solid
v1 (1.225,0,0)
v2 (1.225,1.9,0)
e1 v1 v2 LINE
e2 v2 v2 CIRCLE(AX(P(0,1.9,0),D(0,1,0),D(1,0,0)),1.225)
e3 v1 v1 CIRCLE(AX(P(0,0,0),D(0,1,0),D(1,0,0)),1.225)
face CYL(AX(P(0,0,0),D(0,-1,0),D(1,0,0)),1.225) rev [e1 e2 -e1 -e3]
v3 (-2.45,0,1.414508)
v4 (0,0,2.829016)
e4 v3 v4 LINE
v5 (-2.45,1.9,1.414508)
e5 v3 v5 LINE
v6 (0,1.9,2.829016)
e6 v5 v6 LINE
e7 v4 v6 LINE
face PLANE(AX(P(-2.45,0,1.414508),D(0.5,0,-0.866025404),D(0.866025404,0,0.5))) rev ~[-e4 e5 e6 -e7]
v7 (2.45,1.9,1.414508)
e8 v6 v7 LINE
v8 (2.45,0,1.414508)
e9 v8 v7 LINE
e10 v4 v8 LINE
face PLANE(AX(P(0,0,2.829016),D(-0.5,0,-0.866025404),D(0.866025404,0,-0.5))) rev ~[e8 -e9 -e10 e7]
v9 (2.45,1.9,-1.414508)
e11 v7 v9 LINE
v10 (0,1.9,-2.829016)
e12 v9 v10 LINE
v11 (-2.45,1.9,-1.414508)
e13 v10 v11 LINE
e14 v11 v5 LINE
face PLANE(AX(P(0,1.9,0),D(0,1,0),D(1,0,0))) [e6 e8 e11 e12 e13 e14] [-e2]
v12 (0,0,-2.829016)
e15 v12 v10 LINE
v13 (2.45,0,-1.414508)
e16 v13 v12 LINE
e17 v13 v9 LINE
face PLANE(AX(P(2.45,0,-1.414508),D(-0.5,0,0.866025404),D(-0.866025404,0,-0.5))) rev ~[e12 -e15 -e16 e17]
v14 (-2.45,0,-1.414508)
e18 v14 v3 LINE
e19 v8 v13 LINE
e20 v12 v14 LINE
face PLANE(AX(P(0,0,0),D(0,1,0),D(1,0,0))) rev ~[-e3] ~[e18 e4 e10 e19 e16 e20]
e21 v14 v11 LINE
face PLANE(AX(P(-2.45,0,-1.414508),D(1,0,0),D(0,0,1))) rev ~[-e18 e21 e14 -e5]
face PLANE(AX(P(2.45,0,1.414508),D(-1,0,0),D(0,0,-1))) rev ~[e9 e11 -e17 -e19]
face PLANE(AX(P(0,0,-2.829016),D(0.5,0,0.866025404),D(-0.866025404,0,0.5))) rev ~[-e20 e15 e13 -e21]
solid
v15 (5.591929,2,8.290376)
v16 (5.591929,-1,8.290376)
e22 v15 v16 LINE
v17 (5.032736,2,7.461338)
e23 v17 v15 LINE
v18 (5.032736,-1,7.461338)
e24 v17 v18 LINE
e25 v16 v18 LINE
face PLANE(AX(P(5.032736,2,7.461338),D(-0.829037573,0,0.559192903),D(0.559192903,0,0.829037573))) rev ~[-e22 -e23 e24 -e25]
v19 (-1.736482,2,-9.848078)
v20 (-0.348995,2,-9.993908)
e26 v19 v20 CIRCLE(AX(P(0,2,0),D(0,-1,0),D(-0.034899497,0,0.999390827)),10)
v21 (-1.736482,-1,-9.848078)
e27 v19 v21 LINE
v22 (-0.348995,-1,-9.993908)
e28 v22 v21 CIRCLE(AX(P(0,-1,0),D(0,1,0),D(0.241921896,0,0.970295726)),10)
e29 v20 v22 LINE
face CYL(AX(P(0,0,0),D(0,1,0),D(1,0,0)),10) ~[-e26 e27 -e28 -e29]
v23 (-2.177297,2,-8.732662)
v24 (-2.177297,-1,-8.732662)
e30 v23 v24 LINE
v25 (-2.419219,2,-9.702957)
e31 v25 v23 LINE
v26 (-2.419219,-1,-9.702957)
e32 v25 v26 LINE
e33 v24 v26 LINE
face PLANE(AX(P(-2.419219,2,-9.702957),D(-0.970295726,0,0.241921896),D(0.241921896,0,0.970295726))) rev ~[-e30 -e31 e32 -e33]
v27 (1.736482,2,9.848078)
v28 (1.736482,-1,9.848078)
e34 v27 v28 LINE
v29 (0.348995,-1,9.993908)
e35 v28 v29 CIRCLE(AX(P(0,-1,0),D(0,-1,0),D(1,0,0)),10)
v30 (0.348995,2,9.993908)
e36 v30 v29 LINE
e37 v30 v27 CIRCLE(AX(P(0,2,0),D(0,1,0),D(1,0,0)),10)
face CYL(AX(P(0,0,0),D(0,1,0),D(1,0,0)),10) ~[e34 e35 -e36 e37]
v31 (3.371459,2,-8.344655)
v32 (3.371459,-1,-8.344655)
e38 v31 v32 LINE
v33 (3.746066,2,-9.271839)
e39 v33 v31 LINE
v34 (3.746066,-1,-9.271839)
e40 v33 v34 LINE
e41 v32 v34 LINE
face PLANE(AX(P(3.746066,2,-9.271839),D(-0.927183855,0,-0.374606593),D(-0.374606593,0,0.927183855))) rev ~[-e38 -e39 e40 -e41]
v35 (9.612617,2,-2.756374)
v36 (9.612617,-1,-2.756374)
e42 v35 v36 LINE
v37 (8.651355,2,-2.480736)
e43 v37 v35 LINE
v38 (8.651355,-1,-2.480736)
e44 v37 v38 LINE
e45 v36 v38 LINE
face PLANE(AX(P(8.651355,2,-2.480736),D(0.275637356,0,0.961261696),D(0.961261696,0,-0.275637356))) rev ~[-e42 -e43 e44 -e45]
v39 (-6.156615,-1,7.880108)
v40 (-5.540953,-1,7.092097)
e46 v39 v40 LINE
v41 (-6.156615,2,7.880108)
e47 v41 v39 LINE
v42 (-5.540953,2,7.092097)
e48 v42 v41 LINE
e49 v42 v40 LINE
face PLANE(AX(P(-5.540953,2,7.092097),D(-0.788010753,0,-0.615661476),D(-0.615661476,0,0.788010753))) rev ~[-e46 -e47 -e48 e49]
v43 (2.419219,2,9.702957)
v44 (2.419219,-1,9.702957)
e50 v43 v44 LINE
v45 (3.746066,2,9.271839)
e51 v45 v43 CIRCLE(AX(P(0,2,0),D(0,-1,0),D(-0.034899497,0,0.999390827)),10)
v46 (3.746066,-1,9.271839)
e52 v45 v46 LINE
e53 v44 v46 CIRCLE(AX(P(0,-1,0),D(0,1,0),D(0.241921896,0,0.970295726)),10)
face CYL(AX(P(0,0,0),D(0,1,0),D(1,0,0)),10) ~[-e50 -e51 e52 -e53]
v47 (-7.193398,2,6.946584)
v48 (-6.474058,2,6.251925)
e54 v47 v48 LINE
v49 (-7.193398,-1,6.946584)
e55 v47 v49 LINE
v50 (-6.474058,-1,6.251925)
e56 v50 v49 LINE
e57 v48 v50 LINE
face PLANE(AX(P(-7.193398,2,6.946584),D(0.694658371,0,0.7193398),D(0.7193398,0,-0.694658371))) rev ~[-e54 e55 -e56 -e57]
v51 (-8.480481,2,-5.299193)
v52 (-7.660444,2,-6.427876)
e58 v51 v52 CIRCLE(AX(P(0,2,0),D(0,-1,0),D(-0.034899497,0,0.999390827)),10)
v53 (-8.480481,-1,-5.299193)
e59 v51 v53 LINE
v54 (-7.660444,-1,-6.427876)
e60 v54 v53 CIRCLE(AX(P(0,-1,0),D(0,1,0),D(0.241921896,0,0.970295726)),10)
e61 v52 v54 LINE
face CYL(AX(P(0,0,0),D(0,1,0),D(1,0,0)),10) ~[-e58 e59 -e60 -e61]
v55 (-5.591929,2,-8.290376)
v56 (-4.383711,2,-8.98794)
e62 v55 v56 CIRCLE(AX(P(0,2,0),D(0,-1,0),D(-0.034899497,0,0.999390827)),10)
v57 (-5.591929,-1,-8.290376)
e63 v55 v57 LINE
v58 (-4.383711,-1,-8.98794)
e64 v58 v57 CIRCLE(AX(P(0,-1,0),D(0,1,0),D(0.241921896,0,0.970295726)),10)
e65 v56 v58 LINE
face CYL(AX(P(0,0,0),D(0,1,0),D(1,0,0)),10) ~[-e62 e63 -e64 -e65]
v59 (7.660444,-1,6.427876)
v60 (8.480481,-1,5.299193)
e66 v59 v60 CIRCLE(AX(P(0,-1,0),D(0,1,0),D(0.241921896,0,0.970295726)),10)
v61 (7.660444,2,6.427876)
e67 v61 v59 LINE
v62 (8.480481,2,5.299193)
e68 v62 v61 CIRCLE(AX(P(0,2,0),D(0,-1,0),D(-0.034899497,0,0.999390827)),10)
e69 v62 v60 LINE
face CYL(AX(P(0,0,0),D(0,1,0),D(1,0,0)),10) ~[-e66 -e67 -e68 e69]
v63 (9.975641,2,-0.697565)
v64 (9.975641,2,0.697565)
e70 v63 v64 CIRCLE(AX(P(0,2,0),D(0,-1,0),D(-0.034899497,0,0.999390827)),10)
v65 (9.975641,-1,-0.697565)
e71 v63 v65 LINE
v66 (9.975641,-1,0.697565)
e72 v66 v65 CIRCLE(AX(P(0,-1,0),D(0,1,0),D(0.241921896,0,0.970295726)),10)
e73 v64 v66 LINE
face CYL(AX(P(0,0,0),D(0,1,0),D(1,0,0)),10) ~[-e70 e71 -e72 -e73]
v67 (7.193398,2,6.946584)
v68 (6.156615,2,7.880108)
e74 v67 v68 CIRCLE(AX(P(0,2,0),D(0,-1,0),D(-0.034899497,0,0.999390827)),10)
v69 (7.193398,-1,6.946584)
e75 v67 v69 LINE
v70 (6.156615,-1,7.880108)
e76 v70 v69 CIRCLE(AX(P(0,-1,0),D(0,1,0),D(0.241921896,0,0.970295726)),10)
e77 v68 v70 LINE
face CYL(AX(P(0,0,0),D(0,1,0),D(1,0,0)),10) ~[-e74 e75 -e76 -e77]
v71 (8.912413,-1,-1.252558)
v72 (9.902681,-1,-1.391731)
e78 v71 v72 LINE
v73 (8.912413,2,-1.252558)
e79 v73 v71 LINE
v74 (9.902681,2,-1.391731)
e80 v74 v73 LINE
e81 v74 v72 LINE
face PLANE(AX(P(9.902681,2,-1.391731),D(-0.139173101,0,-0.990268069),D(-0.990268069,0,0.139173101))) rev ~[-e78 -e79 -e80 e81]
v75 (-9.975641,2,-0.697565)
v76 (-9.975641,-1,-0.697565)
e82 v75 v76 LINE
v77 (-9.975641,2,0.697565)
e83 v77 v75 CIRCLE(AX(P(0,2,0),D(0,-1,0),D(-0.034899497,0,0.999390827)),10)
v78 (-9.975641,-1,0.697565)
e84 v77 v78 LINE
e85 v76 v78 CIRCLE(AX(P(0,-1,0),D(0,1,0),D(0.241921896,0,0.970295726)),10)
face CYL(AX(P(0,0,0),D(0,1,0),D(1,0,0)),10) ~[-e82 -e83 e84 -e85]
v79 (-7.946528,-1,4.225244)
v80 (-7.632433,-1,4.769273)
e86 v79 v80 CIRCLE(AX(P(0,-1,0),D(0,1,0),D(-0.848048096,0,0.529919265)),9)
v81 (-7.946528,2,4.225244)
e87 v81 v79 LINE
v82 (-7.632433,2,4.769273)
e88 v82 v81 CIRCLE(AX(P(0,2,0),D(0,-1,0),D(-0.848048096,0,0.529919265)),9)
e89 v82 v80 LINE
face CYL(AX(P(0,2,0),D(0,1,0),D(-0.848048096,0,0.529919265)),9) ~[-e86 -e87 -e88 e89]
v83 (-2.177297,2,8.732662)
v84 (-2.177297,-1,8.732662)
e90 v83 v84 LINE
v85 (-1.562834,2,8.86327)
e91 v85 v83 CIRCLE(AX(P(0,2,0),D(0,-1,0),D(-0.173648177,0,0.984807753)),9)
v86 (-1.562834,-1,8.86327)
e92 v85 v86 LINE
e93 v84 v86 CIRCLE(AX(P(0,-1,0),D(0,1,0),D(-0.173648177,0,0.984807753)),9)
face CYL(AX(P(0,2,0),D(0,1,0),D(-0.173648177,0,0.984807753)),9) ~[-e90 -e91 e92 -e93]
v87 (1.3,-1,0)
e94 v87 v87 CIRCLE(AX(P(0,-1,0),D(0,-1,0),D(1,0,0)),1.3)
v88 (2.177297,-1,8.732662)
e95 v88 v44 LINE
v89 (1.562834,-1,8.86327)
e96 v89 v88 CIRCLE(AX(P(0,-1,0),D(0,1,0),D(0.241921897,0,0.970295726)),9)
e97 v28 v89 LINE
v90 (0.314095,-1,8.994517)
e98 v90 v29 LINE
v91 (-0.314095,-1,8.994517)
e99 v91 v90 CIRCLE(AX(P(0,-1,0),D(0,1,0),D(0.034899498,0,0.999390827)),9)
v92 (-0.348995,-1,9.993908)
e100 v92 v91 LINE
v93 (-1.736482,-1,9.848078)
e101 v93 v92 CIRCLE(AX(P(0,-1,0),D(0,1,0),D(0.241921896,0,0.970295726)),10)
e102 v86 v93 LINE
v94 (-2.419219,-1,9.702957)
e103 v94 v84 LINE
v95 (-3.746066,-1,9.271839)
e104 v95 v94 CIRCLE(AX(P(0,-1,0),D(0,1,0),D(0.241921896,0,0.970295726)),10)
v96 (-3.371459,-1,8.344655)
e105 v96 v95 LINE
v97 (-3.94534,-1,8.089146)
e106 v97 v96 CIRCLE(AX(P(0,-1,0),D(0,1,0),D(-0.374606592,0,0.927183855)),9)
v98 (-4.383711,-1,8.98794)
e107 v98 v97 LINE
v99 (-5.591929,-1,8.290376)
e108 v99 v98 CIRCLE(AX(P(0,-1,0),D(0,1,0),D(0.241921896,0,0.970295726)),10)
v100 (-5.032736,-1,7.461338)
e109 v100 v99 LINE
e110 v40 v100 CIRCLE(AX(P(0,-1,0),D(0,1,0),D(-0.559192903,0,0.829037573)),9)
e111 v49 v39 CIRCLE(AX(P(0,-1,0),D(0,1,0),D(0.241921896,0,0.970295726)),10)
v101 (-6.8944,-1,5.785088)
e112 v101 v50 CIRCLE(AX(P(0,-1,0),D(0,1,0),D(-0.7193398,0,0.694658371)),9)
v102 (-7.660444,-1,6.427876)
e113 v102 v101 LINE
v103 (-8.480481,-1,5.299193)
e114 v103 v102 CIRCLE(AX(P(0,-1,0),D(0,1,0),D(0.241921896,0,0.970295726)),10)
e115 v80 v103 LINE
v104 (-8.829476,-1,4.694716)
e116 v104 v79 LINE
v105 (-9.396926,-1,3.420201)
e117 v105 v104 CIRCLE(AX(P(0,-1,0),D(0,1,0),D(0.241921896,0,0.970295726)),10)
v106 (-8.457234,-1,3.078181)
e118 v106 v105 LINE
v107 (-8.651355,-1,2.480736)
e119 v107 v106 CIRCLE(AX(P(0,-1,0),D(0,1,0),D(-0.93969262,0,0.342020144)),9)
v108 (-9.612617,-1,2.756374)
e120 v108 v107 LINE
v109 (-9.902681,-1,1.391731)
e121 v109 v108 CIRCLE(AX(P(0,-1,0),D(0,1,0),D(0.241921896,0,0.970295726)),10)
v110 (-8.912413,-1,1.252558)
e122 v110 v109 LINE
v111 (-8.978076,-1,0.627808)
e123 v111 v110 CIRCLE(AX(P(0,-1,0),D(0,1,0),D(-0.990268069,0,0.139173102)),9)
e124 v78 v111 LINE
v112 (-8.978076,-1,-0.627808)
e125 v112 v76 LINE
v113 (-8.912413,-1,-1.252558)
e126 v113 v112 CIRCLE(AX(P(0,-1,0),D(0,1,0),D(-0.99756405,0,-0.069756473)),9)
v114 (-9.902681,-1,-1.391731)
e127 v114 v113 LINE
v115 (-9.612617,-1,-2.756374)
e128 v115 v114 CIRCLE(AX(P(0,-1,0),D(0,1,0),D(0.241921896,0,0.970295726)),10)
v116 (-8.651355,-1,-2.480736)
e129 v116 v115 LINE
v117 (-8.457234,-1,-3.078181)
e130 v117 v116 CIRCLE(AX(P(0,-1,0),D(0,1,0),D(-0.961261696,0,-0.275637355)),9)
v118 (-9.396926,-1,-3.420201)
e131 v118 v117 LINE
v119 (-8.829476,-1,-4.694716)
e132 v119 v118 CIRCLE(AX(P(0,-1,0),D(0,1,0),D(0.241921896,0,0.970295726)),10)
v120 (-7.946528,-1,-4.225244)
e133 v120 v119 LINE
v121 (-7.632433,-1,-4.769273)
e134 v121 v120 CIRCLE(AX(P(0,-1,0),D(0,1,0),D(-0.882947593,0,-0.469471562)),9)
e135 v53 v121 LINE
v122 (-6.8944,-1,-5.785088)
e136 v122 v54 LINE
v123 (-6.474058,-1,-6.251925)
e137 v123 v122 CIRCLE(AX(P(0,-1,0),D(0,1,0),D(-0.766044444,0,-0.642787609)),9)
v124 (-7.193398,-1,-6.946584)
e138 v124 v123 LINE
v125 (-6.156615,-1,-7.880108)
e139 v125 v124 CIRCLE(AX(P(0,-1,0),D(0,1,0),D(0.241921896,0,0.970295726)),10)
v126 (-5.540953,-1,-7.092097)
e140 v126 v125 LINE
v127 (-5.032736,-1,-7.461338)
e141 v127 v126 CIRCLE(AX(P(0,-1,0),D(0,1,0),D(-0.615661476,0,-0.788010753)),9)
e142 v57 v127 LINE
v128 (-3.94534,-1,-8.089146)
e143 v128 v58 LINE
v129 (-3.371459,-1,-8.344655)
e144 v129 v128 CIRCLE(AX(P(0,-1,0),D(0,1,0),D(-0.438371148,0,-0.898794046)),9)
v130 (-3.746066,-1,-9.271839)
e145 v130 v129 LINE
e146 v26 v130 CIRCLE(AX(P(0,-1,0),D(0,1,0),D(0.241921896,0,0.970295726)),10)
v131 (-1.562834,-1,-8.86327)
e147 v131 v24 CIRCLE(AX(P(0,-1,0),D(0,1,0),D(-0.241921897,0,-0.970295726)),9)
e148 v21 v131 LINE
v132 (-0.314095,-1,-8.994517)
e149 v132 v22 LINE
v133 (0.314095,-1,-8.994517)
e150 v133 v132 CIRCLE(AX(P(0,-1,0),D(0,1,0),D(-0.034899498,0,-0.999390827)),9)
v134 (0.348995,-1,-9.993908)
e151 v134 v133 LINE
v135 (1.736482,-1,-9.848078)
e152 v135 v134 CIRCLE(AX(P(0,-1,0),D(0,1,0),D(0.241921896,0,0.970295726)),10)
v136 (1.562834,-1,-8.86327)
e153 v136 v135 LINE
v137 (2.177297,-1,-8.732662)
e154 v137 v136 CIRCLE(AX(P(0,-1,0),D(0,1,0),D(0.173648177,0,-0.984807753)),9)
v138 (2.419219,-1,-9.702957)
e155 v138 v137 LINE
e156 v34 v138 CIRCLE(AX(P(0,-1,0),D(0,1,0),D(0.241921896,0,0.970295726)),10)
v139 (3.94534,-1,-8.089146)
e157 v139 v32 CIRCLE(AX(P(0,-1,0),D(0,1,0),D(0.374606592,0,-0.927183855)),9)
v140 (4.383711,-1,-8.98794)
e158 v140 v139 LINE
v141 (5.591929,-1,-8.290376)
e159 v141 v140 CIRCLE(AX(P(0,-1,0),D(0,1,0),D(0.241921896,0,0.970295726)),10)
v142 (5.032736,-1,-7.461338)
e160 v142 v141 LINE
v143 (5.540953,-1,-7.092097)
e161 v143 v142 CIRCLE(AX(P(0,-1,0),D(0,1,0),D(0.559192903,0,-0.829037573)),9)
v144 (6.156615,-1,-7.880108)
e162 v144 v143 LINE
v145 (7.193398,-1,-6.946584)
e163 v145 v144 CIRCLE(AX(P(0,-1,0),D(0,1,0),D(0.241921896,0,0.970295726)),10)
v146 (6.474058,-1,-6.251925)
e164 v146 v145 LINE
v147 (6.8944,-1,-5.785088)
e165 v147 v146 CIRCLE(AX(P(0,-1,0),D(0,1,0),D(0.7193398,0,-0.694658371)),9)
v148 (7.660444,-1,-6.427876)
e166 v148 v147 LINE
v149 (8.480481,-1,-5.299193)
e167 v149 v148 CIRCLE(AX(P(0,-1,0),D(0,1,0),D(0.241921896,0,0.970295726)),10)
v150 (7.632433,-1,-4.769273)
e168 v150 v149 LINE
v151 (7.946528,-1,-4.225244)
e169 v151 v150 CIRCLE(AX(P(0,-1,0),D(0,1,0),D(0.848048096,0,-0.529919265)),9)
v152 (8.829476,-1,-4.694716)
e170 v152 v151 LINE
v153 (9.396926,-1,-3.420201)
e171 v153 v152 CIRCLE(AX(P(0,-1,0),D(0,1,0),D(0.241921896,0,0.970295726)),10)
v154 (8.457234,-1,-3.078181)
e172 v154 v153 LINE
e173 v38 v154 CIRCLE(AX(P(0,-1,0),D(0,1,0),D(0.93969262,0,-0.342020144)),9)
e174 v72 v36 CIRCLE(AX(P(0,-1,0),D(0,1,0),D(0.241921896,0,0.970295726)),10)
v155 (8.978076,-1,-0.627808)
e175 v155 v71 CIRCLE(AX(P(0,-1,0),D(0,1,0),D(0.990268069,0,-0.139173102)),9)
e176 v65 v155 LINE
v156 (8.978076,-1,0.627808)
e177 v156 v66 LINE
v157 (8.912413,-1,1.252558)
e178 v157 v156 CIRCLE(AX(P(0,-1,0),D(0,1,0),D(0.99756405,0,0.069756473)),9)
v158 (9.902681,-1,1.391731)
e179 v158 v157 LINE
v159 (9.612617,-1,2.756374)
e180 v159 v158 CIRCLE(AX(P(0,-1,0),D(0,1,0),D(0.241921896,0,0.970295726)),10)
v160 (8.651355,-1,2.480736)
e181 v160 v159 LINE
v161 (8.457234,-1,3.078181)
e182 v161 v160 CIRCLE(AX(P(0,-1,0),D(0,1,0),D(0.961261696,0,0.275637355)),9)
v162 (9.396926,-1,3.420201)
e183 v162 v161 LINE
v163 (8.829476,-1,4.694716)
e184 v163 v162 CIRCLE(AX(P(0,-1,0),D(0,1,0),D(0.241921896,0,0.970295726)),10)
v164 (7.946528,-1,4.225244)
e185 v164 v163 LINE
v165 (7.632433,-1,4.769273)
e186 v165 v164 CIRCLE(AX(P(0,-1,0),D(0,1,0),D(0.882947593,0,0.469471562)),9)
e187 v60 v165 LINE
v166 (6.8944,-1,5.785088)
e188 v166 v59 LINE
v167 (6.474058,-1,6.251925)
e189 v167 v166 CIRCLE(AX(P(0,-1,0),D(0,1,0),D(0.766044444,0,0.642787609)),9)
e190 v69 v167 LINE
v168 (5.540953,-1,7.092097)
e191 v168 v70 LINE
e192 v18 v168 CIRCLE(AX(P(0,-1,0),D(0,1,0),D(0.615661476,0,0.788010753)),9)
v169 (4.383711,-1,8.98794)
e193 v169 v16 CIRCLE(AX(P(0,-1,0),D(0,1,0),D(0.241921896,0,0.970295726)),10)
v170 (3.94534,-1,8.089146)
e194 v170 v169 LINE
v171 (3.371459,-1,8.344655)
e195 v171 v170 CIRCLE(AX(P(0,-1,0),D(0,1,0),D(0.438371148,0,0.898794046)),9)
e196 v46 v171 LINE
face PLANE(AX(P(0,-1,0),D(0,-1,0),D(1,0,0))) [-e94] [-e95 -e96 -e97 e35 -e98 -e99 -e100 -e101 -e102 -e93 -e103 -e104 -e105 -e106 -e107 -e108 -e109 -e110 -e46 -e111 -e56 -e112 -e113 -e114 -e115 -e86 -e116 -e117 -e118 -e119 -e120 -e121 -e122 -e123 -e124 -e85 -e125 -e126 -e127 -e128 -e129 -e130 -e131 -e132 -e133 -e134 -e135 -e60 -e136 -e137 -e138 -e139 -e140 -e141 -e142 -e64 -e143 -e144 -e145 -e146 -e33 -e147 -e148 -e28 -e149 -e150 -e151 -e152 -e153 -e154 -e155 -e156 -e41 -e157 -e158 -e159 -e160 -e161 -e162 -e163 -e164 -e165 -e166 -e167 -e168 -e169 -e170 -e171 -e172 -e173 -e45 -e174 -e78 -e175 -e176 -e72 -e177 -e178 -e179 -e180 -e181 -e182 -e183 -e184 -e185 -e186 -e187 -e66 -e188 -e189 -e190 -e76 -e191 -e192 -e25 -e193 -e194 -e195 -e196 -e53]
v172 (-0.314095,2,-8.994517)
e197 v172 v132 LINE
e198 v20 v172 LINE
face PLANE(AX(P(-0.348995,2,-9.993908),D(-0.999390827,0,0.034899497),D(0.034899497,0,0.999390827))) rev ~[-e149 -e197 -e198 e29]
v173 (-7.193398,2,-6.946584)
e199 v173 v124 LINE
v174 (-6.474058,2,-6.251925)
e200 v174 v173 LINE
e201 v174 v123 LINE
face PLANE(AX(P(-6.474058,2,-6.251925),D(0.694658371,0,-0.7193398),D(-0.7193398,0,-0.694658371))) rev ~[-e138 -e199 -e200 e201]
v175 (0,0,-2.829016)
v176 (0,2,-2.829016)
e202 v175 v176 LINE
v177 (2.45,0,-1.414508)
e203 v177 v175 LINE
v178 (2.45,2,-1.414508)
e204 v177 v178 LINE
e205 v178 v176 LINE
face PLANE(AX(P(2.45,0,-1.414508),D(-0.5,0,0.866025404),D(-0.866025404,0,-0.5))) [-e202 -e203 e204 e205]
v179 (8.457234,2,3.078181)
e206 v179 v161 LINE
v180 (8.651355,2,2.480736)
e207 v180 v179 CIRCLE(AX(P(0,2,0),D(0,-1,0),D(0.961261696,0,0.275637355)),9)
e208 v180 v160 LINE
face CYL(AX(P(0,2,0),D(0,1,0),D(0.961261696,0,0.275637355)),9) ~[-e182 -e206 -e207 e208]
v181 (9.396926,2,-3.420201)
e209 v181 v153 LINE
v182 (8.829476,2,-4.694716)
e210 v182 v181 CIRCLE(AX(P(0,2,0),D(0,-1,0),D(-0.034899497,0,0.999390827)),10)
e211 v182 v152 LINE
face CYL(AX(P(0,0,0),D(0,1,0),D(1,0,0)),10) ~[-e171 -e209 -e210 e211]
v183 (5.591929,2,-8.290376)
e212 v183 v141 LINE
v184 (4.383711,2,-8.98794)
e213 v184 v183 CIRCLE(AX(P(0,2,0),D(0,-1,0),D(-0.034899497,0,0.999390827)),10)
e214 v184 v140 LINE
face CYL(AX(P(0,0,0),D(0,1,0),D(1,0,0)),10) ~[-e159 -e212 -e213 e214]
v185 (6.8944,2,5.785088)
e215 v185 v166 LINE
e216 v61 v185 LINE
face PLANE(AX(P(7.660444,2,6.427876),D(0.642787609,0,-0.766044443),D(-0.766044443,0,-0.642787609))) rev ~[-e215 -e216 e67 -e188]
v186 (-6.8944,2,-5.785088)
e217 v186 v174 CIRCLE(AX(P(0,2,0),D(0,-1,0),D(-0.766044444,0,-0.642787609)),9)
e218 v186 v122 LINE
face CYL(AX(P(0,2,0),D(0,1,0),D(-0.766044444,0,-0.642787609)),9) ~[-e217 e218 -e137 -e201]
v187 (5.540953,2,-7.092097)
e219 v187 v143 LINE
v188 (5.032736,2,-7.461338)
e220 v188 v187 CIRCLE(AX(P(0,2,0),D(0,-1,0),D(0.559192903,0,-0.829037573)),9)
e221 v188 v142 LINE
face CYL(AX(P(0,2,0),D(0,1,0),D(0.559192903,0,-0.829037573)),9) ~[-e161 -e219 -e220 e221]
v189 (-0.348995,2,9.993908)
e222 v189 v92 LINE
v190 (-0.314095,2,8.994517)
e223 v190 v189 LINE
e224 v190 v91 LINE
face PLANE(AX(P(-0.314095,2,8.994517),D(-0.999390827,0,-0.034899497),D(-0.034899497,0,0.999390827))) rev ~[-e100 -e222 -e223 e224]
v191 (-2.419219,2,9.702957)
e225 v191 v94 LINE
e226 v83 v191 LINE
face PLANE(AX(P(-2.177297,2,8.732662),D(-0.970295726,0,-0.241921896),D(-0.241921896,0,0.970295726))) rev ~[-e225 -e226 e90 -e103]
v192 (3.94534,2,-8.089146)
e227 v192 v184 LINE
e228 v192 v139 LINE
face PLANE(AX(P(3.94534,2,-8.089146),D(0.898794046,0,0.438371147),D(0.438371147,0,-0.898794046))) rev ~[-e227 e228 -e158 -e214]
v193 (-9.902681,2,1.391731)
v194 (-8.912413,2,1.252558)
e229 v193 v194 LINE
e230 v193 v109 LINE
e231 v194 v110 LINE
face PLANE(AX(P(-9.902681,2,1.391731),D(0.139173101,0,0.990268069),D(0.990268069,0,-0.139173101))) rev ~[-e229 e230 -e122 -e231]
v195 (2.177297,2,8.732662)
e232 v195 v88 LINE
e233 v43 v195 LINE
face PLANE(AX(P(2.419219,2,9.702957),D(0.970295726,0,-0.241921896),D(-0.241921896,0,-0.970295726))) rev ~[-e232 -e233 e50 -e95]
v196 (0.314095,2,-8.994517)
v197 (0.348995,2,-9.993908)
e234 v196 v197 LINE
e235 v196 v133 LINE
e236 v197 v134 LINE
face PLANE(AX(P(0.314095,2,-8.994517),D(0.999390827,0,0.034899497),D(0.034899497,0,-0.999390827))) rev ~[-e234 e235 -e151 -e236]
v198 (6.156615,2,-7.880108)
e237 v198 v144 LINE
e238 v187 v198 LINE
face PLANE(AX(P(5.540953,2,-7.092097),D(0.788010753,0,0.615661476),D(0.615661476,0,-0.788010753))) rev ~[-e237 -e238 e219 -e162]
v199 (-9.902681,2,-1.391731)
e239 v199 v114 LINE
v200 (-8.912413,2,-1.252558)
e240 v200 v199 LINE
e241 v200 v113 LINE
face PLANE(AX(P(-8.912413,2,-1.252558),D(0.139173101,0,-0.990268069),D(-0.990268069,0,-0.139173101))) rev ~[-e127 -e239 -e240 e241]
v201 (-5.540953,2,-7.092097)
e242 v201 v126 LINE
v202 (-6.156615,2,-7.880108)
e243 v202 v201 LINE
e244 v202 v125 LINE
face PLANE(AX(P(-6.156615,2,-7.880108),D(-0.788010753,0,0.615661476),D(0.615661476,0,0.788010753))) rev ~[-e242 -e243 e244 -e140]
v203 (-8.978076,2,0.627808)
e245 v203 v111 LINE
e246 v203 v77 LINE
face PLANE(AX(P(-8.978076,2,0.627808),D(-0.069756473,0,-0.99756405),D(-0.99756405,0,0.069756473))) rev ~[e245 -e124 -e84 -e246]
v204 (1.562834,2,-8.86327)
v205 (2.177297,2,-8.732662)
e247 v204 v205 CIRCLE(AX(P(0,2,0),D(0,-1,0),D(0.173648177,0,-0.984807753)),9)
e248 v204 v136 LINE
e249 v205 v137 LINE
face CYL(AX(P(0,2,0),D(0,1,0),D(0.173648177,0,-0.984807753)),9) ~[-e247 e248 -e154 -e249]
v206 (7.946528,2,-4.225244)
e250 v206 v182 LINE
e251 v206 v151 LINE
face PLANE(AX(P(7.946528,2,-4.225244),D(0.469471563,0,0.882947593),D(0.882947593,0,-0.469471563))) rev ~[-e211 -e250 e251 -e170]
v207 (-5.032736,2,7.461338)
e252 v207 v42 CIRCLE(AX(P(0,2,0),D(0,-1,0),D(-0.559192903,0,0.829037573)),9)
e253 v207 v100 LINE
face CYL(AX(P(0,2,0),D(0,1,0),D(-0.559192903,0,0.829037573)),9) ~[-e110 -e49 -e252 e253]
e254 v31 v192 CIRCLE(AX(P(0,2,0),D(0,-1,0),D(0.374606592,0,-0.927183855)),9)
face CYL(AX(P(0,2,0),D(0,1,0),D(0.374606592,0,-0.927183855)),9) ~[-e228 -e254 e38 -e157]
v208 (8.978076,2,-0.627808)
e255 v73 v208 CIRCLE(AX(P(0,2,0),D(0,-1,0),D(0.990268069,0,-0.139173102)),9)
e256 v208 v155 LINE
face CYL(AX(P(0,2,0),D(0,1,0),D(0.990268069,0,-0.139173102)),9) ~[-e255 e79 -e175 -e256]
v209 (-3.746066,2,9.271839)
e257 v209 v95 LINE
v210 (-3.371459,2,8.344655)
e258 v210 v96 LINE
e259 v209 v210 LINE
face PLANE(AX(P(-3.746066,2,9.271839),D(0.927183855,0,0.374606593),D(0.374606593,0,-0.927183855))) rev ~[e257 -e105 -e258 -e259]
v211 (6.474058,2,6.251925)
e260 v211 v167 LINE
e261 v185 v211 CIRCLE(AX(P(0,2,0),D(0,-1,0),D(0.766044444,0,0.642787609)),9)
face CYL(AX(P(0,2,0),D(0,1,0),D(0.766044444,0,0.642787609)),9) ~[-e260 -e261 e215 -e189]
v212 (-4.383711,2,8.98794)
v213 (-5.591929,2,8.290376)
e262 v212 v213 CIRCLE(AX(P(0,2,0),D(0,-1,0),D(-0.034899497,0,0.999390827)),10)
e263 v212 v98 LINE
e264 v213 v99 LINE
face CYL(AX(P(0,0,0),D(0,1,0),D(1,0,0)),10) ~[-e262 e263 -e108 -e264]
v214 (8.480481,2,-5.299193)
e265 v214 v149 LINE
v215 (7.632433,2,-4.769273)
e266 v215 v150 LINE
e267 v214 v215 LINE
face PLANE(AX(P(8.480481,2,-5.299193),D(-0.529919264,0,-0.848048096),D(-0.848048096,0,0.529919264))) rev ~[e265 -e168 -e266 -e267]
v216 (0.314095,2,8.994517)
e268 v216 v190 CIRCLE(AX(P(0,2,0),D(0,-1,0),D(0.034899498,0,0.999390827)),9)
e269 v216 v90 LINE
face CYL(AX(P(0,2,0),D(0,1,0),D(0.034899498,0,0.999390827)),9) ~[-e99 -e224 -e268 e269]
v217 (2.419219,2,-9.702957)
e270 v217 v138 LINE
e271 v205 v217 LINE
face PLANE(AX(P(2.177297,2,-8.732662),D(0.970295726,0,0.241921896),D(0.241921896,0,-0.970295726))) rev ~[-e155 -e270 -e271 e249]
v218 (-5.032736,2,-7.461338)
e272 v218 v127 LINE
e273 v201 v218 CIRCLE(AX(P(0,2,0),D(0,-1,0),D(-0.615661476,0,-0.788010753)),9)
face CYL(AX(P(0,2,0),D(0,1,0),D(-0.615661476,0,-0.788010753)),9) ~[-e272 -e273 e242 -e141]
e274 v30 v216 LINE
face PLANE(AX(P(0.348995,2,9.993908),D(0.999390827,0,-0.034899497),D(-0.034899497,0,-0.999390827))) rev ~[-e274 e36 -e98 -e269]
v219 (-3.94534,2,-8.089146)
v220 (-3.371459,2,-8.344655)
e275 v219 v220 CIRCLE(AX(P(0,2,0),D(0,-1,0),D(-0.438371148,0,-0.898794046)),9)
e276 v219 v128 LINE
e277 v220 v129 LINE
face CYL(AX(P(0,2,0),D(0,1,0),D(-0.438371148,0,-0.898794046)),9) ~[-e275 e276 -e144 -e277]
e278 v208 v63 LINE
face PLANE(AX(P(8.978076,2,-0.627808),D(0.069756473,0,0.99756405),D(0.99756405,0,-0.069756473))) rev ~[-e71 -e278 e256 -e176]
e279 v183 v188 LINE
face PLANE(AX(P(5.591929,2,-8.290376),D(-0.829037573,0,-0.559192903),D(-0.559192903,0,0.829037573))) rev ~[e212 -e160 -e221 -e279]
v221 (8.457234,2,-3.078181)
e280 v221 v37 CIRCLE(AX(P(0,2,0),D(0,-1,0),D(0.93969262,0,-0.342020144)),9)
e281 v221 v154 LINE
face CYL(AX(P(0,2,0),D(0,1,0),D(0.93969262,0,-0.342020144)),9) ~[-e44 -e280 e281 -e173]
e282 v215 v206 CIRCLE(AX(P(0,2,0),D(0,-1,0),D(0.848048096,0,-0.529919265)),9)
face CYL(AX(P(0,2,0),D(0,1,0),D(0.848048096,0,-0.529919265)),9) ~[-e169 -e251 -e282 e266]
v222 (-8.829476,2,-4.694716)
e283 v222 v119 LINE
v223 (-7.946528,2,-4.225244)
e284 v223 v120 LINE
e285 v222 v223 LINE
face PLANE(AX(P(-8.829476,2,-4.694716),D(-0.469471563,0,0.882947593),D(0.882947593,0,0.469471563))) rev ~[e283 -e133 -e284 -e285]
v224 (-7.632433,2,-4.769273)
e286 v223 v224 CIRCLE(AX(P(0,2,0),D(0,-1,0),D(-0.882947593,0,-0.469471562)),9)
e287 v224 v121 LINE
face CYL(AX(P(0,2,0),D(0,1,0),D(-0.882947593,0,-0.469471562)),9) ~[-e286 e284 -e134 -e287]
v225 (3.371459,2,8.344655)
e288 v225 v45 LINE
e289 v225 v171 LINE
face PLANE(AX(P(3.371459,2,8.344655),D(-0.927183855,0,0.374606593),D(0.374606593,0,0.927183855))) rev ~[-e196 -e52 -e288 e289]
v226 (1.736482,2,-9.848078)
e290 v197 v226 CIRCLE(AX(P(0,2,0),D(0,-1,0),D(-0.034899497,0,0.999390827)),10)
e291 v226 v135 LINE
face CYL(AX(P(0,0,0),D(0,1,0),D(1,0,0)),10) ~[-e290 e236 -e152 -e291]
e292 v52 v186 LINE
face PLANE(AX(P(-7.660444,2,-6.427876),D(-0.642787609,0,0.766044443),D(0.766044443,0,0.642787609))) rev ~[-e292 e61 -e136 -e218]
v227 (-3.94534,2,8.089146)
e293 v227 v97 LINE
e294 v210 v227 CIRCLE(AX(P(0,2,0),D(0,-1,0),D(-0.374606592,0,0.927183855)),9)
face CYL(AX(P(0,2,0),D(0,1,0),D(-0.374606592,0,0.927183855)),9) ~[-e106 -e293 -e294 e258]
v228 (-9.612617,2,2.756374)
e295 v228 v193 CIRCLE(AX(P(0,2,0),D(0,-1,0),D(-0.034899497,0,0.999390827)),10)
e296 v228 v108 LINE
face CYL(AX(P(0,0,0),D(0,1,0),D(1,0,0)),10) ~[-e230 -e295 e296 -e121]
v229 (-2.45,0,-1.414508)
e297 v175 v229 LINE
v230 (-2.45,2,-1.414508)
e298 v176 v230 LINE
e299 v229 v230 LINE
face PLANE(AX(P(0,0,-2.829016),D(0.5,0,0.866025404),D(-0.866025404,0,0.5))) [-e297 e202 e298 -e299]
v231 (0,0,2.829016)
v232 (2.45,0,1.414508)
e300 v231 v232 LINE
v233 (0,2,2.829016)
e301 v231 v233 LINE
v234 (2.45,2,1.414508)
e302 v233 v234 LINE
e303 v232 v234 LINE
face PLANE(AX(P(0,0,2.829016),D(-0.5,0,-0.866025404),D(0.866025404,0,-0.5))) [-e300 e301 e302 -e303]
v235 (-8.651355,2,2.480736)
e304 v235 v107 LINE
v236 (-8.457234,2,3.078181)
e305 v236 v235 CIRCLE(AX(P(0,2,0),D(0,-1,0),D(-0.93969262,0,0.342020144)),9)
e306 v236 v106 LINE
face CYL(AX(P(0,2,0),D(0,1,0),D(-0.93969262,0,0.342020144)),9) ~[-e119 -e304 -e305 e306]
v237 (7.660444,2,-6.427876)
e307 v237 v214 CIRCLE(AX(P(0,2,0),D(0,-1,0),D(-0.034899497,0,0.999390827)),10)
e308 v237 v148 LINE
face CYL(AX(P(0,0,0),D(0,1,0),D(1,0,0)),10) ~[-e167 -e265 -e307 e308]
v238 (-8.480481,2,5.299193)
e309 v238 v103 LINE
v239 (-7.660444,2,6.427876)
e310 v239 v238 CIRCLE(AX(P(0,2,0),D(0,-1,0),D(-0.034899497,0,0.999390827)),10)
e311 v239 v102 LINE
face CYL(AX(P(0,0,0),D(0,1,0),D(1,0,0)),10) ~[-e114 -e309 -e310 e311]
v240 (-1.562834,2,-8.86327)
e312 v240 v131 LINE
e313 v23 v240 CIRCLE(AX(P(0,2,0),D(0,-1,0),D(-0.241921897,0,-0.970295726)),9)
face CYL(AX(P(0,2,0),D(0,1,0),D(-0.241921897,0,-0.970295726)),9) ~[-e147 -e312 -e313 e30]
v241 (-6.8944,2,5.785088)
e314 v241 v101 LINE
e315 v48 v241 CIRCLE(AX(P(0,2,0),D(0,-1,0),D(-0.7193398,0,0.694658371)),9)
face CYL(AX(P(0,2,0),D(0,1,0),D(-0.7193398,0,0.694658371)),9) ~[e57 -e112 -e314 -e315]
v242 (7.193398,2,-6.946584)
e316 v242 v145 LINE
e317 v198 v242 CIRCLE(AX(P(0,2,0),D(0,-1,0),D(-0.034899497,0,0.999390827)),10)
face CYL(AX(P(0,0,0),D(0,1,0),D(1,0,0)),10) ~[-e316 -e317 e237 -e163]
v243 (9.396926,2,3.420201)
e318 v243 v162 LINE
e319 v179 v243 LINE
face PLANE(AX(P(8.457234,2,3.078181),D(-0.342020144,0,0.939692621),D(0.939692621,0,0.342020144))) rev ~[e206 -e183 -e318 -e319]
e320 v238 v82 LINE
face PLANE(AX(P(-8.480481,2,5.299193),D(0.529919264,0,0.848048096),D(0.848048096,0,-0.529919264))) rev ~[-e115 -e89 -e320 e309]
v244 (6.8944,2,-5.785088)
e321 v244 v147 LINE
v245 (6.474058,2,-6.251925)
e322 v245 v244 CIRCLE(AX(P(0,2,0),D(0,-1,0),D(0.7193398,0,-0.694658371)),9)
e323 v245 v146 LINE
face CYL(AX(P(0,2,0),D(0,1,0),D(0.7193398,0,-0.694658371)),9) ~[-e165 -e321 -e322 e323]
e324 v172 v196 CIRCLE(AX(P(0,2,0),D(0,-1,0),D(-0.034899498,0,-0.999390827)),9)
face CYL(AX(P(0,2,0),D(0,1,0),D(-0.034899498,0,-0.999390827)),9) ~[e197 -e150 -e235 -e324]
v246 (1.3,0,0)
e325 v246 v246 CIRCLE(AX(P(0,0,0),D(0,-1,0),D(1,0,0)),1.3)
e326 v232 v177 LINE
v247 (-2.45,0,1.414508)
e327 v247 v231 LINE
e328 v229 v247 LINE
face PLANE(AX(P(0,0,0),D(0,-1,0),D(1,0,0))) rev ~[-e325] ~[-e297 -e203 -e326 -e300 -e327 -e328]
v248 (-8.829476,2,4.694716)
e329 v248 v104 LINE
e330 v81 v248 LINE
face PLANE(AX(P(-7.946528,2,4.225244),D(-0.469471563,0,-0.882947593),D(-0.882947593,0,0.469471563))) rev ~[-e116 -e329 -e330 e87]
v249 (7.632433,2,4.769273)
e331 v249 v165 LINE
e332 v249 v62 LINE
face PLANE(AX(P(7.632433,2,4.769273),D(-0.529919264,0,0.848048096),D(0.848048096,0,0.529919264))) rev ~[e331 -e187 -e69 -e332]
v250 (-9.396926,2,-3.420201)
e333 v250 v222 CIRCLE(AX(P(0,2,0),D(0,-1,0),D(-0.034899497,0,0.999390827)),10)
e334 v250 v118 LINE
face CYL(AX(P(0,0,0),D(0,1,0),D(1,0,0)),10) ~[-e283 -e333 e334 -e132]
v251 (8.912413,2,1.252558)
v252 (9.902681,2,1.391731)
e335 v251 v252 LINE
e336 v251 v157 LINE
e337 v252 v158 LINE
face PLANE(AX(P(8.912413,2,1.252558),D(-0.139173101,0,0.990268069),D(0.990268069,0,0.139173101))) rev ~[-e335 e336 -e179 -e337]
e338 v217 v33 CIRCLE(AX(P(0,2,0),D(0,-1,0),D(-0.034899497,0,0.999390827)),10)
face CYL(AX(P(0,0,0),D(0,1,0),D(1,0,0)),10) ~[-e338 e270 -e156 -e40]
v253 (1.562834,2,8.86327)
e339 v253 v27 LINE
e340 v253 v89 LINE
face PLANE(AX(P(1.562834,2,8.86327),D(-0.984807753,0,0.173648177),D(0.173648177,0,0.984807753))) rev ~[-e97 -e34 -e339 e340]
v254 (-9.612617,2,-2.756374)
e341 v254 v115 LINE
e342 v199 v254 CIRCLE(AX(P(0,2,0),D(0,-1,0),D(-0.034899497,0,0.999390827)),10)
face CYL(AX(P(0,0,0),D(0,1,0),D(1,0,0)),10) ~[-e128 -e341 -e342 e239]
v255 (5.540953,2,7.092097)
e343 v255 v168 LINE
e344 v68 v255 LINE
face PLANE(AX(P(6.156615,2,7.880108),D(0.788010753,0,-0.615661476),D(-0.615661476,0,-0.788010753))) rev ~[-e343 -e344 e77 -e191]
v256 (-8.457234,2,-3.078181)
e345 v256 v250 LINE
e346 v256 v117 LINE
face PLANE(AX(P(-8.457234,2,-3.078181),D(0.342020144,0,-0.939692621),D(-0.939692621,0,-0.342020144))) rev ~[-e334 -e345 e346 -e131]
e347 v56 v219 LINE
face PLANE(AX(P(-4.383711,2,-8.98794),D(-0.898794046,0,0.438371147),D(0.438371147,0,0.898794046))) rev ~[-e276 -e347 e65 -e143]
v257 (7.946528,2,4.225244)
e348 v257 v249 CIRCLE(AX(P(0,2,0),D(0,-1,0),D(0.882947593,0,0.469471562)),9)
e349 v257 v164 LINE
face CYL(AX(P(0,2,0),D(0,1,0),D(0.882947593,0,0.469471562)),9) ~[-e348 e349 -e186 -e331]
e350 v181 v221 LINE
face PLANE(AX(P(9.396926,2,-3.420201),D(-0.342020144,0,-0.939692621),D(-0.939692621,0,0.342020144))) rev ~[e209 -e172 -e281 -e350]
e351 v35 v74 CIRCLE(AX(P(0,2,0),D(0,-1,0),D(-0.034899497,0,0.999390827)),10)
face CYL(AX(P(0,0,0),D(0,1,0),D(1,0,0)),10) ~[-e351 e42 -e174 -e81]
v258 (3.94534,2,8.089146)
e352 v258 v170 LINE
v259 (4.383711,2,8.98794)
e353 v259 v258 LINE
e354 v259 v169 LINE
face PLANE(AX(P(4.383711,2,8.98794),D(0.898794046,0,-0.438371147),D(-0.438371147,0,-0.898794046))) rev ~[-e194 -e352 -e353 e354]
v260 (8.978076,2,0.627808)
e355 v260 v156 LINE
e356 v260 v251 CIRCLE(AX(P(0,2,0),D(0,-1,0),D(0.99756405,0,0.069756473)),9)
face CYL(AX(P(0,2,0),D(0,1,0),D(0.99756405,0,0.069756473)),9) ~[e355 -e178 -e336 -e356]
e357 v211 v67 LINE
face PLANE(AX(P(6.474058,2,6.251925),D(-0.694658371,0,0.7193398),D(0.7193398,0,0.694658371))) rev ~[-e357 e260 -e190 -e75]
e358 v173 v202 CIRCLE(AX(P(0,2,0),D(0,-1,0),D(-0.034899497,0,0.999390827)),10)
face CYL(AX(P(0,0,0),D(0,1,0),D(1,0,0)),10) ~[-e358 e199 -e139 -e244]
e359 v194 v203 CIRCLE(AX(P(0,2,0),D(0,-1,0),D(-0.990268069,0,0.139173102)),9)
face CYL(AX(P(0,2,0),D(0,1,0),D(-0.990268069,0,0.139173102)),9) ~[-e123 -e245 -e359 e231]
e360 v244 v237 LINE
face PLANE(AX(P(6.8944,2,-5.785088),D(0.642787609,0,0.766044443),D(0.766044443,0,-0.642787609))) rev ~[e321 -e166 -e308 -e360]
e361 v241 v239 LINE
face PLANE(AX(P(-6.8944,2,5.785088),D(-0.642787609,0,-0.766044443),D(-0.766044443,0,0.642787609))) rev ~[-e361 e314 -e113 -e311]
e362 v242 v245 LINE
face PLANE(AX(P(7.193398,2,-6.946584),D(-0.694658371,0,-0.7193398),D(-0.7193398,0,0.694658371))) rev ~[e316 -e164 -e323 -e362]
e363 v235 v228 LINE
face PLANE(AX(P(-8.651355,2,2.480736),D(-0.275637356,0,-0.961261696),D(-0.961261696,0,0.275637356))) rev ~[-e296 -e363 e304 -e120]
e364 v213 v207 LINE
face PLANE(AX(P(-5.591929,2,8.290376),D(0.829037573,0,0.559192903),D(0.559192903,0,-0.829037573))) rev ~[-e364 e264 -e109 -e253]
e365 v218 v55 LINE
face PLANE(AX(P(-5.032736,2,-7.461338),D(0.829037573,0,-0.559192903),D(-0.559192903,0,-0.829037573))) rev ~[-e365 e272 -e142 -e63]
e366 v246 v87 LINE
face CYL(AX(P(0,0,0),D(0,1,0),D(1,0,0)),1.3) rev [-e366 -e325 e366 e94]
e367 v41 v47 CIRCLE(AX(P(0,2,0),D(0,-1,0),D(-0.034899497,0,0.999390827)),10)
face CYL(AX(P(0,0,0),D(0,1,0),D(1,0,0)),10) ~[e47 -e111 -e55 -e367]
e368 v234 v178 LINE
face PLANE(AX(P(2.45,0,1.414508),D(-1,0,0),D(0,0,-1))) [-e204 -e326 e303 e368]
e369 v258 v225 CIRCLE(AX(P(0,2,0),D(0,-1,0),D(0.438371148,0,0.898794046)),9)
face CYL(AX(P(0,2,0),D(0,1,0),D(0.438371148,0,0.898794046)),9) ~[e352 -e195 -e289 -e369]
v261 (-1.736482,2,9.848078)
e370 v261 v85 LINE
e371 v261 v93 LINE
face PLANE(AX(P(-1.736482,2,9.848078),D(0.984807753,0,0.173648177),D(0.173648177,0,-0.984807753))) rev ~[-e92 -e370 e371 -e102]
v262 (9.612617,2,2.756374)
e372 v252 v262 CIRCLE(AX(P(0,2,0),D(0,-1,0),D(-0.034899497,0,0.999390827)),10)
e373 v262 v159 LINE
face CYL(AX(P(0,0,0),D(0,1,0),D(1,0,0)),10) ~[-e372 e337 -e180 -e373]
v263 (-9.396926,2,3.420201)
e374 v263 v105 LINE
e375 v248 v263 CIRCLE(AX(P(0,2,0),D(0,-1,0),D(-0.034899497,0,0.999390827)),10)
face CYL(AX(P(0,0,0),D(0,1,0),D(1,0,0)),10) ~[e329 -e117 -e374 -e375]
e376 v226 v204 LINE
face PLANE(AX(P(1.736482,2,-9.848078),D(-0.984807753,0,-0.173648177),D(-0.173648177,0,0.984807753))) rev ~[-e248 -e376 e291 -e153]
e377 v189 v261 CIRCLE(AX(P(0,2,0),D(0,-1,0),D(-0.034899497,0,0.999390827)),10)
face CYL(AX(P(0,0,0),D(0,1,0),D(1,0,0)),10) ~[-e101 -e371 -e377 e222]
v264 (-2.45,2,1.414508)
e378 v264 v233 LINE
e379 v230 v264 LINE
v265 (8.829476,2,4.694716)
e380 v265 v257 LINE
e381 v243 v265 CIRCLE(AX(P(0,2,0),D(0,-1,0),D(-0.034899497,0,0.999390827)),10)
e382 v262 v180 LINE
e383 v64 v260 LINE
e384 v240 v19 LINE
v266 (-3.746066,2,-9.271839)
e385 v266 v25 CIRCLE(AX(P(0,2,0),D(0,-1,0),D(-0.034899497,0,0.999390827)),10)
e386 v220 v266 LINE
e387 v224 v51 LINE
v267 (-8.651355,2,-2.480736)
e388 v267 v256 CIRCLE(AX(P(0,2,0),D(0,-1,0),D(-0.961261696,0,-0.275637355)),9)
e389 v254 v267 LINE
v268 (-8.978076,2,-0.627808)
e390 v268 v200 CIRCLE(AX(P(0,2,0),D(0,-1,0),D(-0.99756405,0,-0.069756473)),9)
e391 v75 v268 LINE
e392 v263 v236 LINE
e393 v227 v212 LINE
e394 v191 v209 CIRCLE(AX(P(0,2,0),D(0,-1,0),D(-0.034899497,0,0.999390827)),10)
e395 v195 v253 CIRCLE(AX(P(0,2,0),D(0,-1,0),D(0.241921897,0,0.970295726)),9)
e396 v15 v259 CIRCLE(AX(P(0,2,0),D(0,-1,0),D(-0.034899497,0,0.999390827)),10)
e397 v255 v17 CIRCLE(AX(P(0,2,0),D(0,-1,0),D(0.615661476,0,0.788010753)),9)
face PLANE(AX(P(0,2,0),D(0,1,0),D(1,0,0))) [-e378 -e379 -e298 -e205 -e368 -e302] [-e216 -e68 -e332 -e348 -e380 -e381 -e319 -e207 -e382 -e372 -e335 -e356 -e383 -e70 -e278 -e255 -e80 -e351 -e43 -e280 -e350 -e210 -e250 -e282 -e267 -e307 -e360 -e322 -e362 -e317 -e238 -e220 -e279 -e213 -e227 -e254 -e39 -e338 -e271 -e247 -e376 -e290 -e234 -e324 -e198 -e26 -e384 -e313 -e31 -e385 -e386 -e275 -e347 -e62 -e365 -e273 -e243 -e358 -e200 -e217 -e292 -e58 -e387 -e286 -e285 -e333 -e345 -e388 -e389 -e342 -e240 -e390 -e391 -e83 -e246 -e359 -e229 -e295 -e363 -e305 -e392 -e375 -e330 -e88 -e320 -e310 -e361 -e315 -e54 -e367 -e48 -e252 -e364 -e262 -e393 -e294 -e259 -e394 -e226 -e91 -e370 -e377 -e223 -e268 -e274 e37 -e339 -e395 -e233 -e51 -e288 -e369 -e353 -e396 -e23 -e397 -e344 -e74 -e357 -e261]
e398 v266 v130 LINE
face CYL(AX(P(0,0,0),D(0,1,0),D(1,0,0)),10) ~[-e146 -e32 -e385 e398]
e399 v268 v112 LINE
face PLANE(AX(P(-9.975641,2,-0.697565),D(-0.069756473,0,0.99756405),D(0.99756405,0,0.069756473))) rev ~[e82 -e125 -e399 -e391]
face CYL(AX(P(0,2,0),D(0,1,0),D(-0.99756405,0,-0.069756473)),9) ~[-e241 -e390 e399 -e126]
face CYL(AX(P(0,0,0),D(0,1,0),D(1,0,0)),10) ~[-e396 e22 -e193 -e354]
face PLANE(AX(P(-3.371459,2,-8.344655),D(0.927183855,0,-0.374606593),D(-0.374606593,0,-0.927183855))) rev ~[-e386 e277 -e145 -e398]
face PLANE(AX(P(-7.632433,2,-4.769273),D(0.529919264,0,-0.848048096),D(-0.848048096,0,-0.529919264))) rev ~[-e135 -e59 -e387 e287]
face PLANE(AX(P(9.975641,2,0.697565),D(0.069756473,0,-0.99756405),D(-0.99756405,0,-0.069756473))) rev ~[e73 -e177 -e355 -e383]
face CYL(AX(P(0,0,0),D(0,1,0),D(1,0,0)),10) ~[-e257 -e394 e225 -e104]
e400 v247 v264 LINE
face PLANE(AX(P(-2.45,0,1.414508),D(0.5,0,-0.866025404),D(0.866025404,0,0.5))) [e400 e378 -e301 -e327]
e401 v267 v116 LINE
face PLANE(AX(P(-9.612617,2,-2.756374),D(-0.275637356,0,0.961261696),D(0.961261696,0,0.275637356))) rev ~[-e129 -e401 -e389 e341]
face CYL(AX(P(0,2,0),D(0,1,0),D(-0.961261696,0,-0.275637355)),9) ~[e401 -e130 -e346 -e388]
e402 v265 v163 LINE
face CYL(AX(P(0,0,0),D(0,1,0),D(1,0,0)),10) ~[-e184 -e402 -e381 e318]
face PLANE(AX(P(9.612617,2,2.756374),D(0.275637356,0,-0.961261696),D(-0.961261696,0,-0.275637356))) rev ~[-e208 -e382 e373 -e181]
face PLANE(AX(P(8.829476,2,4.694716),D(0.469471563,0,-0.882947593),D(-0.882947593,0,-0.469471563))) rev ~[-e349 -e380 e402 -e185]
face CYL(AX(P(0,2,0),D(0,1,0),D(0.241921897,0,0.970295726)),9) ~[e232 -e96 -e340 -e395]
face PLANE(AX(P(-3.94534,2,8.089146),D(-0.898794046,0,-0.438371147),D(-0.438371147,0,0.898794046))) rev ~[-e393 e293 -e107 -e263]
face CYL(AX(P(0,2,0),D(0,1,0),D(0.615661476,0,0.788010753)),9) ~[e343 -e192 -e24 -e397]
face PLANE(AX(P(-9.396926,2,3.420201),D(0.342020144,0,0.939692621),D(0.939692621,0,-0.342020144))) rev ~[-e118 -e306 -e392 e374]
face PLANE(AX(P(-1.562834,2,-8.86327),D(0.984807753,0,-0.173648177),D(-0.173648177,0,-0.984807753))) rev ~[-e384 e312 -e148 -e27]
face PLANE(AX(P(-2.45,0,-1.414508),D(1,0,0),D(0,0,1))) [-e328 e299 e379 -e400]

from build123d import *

# Parameters (mm, degrees)
SKETCH1_R           = 1.225
BOSS_EXTRUDE1_DEPTH = 1.9
SKETCH2_R           = 10
BOSS_EXTRUDE2_DEPTH = 2
SKETCH3_R           = 10
SKETCH3_R_2         = 1.3
BOSS_EXTRUDE3_DEPTH = 1
CUT_EXTRUDE1_DEPTH  = 10
CIRPATTERN1_COUNT   = 30


with BuildPart() as part:
    # Sketch1 → Boss-Extrude1 (new body)
    with BuildSketch(Plane(origin=(0, 0, 0), x_dir=(1, 0, 0), z_dir=(0, 1, 0))):
        Polygon((0, -2.829016319), (2.45, -1.41450816), (2.45, 1.41450816), (0, 2.829016319), (-2.45, 1.41450816), (-2.45, -1.41450816), align=None)
        Circle(SKETCH1_R, mode=Mode.SUBTRACT)
    extrude(amount=BOSS_EXTRUDE1_DEPTH)


with BuildPart() as body_2:
    # Sketch2 → Boss-Extrude2 (new body)
    with BuildSketch(Plane(origin=(0, 0, 0), x_dir=(1, 0, 0), z_dir=(0, 1, 0))):
        Circle(SKETCH2_R)
        Polygon((-2.45, -1.41450816), (0, -2.829016319), (2.45, -1.41450816), (2.45, 1.41450816), (0, 2.829016319), (-2.45, 1.41450816), align=None, mode=Mode.SUBTRACT)
    extrude(amount=BOSS_EXTRUDE2_DEPTH)

    # Sketch3 → Boss-Extrude3 (add)
    with BuildSketch(Plane.XZ):
        Circle(SKETCH3_R)
        Circle(SKETCH3_R_2, mode=Mode.SUBTRACT)
    extrude(amount=BOSS_EXTRUDE3_DEPTH)

    # Sketch4 → Cut-Extrude1 (cut)
    with BuildSketch(Plane(origin=(0, 2, 0), x_dir=(1, 0, 0), z_dir=(0, 1, 0))):
        with BuildLine():
            ThreePointArc((0.31409547, -8.994517443), (0, -9), (-0.31409547, -8.994517443))
            Line((-0.31409547, -8.994517443), (-0.348994967, -9.99390827))
            Line((-0.348994967, -9.99390827), (-0.348994967, -10.651767424))
            Line((-0.348994967, -10.651767424), (0.348994967, -10.651767424))
            Line((0.348994967, -10.651767424), (0.348994967, -9.99390827))
            Line((0.348994967, -9.99390827), (0.31409547, -8.994517443))
        make_face()
    cut_extrude1 = extrude(amount=-CUT_EXTRUDE1_DEPTH, mode=Mode.SUBTRACT)

    # CirPattern1: Cut-Extrude1 ×30 about axis
    cirpattern1_axis = Axis((0, 0, 0), (0, 1, 0))
    for i in range(1, CIRPATTERN1_COUNT):
        add(cut_extrude1.rotate(cirpattern1_axis, i * 360 / CIRPATTERN1_COUNT), mode=Mode.SUBTRACT)


solid = Compound([part.part, body_2.part])
